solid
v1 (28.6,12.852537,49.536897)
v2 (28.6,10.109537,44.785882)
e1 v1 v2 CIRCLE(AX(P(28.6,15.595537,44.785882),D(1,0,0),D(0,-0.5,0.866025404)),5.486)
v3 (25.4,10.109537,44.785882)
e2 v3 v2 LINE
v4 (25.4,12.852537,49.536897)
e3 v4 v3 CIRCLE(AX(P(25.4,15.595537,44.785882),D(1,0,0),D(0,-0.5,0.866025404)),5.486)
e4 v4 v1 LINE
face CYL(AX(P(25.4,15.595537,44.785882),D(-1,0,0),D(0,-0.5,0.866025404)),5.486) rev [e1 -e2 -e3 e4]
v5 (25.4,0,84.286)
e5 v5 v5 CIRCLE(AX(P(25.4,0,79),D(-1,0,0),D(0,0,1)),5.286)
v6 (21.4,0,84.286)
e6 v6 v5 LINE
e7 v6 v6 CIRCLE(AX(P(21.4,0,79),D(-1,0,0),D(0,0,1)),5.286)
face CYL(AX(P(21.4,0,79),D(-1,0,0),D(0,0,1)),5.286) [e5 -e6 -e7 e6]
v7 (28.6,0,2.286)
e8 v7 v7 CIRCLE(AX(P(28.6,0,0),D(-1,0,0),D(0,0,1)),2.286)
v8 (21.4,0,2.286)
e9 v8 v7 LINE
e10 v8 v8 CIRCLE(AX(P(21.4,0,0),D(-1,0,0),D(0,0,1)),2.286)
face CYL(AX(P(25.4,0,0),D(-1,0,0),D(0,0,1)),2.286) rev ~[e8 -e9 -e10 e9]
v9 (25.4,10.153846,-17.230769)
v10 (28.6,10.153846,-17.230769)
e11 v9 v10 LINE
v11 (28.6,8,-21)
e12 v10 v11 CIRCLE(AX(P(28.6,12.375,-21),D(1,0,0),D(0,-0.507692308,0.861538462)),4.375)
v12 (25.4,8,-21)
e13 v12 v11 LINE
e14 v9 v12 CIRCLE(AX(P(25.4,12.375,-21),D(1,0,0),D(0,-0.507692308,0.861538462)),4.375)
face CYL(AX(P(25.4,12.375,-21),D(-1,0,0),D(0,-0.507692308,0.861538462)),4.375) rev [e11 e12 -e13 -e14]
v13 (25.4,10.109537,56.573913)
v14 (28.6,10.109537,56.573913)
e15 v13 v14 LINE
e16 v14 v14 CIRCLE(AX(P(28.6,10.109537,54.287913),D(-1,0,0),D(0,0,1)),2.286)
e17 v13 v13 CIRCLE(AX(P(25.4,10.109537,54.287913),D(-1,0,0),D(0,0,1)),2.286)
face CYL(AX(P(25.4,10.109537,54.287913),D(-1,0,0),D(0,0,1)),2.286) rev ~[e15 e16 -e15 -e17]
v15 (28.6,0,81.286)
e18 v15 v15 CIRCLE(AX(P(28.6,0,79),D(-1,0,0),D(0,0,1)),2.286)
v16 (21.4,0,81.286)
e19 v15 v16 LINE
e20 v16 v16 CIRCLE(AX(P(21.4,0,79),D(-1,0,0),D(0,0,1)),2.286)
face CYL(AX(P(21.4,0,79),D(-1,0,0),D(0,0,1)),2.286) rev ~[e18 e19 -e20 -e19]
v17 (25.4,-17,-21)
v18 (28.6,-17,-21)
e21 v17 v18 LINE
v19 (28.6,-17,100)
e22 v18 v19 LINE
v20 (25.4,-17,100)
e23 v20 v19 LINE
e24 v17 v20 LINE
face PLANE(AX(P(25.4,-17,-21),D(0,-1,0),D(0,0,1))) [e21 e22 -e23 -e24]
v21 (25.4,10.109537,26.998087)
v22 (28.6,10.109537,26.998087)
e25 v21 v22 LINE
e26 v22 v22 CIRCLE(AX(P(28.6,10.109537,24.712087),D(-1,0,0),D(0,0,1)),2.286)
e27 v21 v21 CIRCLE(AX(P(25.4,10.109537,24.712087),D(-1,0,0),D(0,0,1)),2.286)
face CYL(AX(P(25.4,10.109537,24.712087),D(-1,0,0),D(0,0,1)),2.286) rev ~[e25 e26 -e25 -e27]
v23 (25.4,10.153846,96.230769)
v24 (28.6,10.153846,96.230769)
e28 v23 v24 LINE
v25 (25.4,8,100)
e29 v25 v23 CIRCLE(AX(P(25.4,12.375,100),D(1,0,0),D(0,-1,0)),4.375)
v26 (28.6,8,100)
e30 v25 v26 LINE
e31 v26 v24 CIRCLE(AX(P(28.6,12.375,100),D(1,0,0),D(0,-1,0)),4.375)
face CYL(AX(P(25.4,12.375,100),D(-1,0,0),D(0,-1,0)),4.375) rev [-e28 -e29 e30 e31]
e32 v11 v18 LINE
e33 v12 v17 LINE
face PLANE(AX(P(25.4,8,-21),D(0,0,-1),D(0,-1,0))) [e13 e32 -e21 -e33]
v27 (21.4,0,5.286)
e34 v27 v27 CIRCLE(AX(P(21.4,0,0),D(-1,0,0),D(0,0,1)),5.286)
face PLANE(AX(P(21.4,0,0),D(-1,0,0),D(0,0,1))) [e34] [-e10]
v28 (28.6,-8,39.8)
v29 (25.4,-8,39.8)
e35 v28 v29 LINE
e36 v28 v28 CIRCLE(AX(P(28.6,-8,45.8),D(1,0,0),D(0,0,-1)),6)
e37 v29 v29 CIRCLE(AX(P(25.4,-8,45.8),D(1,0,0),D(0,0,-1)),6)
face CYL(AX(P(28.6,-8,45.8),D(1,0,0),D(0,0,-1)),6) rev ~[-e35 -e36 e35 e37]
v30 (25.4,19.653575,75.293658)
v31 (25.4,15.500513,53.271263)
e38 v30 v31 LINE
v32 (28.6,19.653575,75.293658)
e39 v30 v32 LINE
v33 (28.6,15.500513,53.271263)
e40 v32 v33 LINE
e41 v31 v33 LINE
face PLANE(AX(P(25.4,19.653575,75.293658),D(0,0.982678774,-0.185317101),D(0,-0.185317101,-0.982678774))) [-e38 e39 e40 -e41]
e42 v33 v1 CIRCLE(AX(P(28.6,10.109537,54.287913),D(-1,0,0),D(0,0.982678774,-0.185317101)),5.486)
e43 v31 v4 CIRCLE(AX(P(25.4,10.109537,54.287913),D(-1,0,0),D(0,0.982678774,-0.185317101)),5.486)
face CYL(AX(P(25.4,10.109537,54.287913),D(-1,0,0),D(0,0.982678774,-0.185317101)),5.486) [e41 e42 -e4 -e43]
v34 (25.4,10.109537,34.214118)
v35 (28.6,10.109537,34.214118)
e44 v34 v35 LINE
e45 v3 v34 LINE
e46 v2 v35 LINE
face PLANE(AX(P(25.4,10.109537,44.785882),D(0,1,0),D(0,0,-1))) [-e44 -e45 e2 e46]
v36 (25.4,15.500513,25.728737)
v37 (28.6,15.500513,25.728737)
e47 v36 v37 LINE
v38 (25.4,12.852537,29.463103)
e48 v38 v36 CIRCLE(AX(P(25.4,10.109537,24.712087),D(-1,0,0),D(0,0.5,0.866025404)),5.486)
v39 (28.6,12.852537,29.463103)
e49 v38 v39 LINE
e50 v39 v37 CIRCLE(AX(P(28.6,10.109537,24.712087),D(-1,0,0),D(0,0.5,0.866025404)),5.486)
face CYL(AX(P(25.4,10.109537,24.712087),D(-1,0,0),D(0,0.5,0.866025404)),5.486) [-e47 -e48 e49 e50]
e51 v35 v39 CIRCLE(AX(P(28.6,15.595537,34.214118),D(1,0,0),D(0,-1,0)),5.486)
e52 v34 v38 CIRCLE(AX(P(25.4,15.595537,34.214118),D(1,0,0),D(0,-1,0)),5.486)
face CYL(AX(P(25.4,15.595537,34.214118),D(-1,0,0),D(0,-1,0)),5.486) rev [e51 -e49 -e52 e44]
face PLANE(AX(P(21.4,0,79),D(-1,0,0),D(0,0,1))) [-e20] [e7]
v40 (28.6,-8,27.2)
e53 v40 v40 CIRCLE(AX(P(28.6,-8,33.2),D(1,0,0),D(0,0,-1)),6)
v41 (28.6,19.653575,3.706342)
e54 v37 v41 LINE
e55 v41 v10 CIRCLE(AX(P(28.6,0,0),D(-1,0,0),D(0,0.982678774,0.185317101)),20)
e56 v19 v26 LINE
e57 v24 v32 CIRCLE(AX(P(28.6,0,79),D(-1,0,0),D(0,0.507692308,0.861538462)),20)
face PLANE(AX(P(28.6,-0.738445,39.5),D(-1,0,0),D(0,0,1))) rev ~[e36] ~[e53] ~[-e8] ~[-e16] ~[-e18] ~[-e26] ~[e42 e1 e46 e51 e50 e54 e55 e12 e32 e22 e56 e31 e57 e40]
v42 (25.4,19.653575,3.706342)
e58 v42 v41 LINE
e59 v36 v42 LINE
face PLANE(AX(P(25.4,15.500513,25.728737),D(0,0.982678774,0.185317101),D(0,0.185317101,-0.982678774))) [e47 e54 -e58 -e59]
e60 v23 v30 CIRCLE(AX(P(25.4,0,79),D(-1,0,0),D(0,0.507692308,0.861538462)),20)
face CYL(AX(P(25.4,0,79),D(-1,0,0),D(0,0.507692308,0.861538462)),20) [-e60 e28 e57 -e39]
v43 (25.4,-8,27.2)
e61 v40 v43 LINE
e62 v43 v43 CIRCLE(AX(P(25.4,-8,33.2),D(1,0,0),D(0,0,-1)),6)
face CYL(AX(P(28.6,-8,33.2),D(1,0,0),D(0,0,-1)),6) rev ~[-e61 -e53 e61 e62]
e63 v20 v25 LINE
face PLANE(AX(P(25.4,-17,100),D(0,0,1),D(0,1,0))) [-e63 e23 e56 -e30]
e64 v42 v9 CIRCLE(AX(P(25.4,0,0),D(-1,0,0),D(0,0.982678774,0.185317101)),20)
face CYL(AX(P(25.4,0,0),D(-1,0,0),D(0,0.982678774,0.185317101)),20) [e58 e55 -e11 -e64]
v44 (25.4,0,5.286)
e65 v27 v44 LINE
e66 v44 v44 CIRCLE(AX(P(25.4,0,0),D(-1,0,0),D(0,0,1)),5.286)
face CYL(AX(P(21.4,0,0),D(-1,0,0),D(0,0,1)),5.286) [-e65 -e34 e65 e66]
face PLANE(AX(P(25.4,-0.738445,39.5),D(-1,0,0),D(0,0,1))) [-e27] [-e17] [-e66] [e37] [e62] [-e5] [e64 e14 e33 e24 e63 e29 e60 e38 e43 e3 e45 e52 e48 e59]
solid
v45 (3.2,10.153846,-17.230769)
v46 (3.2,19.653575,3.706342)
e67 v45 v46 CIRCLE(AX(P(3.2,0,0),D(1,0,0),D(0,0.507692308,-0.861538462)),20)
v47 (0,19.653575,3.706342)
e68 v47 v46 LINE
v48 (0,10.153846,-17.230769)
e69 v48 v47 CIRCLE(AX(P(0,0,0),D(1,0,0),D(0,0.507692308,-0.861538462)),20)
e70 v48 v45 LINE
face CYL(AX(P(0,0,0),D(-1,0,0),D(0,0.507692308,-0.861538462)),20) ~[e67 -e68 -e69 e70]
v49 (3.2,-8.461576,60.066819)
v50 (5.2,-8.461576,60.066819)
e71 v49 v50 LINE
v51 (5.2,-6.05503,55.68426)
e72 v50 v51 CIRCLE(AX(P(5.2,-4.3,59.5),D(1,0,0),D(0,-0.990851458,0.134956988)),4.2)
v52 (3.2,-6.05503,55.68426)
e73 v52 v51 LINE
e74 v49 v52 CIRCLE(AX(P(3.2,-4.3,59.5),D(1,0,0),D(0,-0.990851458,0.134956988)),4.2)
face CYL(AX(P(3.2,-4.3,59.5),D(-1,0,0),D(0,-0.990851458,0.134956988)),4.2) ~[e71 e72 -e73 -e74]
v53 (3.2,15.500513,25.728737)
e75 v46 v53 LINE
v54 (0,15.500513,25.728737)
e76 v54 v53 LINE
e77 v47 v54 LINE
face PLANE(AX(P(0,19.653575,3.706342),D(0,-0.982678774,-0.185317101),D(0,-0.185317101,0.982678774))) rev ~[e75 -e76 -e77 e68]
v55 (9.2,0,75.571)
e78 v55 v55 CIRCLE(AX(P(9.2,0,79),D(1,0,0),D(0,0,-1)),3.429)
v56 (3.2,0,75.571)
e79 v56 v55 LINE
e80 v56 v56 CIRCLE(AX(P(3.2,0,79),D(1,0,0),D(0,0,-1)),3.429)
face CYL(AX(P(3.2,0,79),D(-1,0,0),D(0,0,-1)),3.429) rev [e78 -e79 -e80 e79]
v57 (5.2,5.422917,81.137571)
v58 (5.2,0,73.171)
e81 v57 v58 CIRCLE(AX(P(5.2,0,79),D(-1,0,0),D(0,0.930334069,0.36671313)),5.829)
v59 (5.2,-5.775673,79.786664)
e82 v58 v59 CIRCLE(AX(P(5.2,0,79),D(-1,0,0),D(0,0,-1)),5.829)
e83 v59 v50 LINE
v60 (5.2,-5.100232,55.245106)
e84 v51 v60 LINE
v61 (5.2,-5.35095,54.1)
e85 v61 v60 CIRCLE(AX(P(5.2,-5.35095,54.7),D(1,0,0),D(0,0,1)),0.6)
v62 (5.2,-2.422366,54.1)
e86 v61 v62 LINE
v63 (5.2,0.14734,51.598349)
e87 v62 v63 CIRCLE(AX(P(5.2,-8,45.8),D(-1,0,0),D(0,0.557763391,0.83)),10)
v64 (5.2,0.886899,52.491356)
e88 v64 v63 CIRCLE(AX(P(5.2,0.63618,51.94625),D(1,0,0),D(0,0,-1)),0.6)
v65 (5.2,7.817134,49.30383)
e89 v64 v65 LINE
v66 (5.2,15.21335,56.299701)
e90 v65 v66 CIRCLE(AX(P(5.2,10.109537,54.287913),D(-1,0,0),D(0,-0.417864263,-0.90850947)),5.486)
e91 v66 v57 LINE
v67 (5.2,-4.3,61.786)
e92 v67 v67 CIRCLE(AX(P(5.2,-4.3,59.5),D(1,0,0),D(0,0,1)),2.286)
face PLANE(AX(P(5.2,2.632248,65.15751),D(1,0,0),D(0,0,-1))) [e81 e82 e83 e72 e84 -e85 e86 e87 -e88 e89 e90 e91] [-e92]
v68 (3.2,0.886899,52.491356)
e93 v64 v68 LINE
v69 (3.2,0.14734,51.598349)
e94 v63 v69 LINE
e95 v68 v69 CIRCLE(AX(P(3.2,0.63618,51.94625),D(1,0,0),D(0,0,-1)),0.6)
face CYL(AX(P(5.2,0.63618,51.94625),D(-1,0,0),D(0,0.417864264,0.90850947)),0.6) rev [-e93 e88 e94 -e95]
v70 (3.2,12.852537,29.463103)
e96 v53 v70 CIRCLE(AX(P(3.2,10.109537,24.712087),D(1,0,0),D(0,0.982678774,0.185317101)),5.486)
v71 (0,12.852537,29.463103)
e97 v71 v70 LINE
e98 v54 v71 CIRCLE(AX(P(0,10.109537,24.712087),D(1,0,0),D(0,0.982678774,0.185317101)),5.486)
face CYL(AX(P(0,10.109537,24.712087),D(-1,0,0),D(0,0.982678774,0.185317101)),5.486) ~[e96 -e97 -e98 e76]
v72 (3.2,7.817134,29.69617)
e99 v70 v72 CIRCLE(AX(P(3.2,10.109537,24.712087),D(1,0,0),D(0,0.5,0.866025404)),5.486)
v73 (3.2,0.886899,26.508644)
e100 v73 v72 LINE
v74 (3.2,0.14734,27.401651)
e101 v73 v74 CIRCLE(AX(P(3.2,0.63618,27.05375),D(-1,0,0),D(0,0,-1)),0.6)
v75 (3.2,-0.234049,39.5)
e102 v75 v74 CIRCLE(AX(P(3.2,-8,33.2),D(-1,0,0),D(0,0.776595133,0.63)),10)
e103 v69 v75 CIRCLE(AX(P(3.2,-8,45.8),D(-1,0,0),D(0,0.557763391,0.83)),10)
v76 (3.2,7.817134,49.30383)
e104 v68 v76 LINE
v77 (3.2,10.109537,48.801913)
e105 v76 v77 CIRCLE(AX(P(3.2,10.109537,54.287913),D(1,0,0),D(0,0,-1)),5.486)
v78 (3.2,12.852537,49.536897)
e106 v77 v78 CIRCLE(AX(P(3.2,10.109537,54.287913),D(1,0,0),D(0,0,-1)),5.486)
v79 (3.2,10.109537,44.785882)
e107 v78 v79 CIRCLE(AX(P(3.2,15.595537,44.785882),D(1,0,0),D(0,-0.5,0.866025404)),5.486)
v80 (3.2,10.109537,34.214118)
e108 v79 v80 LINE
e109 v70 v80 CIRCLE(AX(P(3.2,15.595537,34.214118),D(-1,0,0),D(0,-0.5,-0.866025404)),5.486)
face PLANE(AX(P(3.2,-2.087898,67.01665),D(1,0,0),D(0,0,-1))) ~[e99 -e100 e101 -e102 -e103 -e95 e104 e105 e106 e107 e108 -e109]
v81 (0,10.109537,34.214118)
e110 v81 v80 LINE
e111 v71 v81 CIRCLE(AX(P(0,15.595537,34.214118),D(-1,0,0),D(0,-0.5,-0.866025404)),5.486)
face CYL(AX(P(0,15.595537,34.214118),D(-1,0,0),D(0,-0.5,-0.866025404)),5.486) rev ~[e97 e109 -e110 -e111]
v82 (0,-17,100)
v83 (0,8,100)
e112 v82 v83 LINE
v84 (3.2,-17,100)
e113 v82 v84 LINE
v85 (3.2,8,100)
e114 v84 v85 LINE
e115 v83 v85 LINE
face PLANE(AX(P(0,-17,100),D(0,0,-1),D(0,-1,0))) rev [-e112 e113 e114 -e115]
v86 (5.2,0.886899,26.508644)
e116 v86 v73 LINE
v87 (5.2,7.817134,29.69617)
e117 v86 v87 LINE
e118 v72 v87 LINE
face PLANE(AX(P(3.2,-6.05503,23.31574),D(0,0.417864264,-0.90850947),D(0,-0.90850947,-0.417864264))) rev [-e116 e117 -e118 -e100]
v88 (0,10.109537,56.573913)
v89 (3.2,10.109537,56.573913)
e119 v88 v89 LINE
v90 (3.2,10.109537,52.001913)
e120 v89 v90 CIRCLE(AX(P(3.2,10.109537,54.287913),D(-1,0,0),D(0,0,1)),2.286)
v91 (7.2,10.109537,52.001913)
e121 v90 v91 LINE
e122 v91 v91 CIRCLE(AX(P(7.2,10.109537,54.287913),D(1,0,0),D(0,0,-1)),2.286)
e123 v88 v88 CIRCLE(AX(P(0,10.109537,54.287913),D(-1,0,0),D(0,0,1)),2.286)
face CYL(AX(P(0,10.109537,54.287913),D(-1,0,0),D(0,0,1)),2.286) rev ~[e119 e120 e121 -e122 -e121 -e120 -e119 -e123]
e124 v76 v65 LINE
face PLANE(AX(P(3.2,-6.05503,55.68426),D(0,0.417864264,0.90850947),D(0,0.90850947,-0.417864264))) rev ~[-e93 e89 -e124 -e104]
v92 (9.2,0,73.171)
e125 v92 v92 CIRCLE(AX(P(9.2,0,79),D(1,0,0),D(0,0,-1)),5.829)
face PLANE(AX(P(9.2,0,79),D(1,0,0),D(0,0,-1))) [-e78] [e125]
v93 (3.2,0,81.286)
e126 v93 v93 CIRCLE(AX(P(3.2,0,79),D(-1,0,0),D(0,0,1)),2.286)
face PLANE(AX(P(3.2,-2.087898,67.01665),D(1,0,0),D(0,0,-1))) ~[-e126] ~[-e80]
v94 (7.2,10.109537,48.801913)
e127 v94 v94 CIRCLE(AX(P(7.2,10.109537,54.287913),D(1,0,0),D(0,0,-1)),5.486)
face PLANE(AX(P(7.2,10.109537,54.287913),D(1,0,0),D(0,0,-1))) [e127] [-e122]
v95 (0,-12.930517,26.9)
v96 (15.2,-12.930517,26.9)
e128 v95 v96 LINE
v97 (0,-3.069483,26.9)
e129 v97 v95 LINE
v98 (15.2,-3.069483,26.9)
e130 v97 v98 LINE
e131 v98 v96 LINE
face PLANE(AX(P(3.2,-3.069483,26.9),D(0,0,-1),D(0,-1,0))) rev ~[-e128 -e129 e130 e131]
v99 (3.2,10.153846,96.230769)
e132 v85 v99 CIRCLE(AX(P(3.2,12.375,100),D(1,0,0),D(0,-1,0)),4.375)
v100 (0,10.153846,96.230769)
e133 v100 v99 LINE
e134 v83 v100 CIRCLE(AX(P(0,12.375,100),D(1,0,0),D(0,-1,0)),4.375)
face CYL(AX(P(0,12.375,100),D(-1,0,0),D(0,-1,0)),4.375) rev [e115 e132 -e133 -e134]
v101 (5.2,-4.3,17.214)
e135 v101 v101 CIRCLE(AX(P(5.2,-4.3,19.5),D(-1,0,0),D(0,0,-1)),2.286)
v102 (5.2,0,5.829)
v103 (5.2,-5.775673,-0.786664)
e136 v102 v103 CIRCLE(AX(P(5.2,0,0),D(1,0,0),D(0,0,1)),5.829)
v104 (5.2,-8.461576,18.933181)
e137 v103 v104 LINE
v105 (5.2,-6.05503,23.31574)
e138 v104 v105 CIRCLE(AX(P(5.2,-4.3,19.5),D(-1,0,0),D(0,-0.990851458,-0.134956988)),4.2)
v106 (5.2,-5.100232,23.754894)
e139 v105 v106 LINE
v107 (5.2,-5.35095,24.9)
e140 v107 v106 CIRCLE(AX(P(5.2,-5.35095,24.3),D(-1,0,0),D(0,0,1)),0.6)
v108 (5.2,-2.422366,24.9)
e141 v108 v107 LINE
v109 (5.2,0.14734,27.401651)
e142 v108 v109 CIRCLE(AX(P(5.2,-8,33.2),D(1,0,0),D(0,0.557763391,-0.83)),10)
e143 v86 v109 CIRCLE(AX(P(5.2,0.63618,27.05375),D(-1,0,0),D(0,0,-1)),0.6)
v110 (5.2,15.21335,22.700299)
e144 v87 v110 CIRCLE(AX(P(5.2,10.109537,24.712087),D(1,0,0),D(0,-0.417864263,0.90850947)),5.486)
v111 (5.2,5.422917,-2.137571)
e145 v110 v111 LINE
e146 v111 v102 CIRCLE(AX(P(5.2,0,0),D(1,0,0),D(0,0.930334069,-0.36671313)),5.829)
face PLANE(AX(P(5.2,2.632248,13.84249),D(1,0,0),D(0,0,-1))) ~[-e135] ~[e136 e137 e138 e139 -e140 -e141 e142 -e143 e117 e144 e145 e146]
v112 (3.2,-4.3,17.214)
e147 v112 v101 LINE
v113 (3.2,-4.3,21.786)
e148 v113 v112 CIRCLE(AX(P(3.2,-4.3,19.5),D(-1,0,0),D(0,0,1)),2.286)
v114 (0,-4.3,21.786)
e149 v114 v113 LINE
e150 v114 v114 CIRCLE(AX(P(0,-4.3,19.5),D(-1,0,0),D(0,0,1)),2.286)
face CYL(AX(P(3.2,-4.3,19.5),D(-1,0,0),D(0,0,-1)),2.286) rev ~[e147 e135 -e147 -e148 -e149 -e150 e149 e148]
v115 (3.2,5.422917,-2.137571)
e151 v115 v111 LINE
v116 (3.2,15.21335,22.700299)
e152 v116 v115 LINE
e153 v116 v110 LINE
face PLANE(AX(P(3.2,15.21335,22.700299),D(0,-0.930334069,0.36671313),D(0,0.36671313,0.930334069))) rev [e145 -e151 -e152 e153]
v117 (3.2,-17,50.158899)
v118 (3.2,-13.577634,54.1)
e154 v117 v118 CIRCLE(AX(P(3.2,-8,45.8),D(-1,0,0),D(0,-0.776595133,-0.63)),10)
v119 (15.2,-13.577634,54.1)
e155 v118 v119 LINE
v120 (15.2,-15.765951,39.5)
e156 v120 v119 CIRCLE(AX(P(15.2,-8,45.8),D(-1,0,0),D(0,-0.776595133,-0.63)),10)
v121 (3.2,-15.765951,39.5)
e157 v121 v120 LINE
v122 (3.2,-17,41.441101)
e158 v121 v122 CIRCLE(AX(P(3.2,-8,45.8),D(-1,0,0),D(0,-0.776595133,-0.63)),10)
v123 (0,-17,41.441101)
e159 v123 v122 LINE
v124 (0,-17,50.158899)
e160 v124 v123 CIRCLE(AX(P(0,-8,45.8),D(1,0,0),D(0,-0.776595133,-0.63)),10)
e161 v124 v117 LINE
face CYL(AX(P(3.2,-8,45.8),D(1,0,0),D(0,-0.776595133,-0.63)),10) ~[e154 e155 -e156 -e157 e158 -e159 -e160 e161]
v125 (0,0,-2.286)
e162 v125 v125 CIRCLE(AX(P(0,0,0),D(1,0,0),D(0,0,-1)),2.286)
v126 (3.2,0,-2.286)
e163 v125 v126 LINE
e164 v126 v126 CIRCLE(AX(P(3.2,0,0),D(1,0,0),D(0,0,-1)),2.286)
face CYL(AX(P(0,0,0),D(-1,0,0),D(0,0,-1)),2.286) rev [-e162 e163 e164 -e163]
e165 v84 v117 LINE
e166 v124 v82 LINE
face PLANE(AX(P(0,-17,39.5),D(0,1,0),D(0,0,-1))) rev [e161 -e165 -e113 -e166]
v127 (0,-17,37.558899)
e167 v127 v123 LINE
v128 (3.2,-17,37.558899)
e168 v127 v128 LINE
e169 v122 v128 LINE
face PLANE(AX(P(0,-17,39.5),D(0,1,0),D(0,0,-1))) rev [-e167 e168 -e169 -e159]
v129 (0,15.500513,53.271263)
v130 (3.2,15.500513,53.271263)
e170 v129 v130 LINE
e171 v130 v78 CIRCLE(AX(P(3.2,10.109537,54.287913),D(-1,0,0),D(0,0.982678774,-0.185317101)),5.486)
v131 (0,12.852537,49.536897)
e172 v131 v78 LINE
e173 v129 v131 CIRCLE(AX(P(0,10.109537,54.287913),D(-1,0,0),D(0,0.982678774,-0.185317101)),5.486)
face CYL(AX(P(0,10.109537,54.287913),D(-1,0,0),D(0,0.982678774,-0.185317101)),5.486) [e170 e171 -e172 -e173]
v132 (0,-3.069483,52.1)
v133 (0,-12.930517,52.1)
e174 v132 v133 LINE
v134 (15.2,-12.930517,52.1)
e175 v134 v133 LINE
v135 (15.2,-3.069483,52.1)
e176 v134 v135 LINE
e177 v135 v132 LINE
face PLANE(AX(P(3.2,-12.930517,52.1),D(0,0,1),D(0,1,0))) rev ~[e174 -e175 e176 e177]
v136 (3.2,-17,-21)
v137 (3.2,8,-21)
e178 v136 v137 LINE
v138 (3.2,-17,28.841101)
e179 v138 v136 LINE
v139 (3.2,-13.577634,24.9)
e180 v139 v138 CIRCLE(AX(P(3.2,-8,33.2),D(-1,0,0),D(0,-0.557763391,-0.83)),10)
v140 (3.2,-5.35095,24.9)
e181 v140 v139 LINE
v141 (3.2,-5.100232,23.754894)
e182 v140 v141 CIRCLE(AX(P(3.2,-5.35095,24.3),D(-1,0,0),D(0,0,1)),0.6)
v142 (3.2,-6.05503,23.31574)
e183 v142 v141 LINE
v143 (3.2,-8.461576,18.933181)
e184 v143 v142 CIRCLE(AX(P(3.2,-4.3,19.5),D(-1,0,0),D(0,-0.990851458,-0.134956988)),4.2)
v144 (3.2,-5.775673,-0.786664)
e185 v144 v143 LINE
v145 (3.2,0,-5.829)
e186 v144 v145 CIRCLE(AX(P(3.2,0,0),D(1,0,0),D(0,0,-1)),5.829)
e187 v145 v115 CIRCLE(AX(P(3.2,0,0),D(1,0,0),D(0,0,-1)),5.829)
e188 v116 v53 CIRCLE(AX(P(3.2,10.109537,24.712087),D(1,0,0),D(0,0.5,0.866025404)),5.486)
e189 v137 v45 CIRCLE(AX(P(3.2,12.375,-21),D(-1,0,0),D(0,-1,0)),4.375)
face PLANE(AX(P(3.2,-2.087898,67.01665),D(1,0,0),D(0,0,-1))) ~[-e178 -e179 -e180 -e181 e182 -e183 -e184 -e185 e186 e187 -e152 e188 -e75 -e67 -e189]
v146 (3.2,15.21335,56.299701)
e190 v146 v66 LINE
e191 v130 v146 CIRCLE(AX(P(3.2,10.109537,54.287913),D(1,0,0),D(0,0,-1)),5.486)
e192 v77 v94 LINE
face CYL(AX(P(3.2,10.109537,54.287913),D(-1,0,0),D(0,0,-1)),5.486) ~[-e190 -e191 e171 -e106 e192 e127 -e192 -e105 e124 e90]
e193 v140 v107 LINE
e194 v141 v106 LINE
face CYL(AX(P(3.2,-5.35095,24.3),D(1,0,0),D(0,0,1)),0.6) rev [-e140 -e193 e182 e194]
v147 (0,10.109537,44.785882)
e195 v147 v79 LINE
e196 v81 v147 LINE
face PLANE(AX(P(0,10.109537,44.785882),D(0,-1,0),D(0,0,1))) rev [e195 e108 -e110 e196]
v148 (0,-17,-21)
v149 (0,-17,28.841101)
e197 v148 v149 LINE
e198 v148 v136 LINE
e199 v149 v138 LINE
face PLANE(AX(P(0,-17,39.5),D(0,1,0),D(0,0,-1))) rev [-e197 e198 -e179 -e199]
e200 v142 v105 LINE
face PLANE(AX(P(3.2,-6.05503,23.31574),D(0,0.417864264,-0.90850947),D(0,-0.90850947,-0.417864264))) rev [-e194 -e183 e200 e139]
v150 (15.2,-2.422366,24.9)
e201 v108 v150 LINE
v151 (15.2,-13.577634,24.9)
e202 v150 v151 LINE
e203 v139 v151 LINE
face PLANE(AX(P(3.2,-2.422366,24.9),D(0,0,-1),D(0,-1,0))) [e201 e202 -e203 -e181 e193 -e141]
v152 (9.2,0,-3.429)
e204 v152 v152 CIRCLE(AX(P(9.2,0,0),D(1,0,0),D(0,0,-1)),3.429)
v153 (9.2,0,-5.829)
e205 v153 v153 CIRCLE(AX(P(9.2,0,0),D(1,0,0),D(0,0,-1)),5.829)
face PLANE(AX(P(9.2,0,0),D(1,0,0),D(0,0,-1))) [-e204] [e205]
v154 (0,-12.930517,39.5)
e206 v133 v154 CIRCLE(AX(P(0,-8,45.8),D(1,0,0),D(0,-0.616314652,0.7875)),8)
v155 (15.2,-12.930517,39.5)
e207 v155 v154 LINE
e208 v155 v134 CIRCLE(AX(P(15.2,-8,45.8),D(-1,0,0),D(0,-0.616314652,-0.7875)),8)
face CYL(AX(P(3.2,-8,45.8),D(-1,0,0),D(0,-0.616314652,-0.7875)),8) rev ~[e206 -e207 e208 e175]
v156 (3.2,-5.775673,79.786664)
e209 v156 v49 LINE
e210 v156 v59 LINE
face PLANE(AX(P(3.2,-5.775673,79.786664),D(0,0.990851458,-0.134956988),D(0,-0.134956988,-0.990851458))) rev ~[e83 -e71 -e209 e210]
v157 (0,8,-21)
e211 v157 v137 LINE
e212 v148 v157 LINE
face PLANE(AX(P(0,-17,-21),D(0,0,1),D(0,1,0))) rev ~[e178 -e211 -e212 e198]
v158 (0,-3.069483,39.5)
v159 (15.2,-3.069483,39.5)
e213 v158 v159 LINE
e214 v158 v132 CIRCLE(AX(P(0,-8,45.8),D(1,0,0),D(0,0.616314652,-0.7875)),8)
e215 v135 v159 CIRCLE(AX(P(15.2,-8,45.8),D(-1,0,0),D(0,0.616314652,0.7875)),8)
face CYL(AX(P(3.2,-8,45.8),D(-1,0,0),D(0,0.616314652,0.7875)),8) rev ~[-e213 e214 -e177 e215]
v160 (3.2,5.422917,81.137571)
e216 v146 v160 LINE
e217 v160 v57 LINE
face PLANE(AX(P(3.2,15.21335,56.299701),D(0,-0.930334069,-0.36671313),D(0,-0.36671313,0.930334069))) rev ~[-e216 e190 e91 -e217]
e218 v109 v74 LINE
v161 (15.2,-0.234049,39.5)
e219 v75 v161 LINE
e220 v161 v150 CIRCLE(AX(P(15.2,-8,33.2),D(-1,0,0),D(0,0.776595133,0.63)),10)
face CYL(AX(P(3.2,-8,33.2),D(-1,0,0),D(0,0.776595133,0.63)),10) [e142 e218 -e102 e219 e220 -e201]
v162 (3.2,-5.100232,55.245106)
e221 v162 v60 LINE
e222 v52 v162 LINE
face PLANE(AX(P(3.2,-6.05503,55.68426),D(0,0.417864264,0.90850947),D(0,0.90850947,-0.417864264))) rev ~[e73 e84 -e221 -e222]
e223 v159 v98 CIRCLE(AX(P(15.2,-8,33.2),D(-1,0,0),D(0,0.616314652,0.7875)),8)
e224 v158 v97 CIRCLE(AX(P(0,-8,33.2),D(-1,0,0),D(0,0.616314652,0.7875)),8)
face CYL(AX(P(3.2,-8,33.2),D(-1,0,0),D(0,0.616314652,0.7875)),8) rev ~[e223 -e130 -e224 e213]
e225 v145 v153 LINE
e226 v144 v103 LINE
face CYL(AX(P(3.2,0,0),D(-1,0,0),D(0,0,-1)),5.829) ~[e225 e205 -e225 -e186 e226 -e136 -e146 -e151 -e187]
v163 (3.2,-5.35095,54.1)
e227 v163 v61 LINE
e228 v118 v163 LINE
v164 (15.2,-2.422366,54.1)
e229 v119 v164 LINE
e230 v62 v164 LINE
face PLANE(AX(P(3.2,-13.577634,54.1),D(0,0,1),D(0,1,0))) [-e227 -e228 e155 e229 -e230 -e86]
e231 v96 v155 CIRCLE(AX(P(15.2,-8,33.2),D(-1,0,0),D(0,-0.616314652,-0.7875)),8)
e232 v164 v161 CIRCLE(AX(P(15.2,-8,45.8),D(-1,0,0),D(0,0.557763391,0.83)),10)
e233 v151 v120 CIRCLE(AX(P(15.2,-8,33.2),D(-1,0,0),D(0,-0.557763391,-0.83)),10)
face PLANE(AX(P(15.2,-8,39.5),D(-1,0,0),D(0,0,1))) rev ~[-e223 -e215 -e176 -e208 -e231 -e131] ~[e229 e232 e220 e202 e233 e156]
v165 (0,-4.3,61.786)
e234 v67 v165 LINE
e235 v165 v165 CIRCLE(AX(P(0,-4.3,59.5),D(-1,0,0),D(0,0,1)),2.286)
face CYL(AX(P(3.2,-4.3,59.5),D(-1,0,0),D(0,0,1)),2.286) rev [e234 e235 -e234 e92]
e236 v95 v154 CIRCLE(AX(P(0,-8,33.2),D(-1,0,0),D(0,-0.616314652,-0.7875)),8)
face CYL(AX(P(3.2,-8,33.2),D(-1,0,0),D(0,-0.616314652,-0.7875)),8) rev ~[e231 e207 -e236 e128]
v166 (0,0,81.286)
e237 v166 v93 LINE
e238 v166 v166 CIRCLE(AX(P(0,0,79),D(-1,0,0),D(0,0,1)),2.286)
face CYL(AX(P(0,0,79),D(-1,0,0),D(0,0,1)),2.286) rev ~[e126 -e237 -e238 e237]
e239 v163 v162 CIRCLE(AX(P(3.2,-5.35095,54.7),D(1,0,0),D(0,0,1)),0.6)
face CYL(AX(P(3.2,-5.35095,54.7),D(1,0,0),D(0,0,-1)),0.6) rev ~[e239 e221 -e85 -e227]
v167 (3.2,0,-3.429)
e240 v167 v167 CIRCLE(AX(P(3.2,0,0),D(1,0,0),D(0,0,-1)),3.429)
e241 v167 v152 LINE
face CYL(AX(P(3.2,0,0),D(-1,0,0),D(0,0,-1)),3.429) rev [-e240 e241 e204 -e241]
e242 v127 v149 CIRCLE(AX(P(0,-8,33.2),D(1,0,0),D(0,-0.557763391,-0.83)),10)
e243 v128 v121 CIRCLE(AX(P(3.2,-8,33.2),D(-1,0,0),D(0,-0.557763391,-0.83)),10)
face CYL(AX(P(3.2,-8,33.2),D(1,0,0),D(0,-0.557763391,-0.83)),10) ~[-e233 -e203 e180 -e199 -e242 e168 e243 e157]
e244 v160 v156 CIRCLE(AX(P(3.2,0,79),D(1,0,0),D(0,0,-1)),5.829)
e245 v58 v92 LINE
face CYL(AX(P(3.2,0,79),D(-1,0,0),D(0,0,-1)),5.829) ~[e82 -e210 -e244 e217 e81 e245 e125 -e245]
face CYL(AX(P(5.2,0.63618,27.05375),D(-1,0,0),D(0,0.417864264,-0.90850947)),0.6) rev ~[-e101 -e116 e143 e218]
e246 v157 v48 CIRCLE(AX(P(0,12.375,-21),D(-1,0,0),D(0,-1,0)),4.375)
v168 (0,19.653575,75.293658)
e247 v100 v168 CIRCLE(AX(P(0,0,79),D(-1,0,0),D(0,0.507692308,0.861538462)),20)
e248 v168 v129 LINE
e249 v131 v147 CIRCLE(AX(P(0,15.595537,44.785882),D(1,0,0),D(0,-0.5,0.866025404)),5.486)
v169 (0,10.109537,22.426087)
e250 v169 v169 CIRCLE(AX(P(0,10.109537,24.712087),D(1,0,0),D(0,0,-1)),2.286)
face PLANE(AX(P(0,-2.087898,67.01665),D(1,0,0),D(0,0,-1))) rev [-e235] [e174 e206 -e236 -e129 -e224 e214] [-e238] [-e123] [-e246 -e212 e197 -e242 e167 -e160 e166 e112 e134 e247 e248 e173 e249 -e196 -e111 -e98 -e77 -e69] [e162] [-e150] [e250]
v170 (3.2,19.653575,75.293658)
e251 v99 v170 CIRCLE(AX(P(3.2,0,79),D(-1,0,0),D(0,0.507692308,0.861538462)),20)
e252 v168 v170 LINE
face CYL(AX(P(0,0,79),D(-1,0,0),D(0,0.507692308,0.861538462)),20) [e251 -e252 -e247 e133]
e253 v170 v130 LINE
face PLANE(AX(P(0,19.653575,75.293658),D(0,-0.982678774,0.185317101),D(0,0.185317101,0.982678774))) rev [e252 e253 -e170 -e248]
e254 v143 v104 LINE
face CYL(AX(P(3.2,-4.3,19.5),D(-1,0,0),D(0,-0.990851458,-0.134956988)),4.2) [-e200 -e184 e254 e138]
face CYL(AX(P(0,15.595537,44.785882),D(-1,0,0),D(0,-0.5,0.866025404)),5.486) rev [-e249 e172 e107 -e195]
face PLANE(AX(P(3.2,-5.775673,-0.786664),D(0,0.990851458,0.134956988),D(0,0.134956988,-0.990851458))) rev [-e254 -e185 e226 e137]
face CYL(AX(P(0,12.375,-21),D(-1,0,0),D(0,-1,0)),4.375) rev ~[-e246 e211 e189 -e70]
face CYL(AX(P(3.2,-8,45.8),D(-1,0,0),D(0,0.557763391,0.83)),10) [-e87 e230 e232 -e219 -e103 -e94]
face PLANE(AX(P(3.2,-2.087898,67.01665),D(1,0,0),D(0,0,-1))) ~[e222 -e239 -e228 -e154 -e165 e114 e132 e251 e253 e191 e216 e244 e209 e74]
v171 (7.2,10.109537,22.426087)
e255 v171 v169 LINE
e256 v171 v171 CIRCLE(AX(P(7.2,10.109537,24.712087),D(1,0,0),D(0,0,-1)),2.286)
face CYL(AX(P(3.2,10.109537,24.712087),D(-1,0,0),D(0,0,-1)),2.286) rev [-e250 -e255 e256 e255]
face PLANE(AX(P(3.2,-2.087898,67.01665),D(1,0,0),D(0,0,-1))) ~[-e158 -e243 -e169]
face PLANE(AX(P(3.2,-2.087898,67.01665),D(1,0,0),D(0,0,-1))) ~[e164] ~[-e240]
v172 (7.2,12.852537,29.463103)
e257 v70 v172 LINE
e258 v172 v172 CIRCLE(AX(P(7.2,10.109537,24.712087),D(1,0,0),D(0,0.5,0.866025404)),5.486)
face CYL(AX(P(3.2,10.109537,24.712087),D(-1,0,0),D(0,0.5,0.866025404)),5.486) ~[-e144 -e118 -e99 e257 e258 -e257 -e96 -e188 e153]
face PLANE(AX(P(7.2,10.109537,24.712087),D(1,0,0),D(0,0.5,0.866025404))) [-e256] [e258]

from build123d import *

# Parameters (mm, degrees)
SKETCH1_R                       = 2.286
BOSS_EXTRUDE1_DEPTH             = 3.2
SKETCH4_R                       = 5.486
SKETCH4_R_2                     = 2.286
BOSS_EXTRUDE2_DEPTH             = 4
SKETCH5_R                       = 5.829
SKETCH5_R_2                     = 3.429
EXTRUDE_THIN2_DEPTH             = 6
BOSS_EXTRUDE3_START             = -25.4
BOSS_EXTRUDE3_DEPTH             = 3.2
SKETCH8_R                       = 2.286
CUT_EXTRUDE1_DEPTH              = 106.095956154
EXTRUDE_THIN3_START             = 4
SKETCH9_R                       = 5.286
SKETCH9_R_2                     = 2.286
EXTRUDE_THIN3_DEPTH             = 4
SKETCH10_R                      = 2.286
CUT_EXTRUDE2_DEPTH              = 12
SKETCH13_R                      = 2.286
BOSS_EXTRUDE6_DEPTH             = 2
EXTRUDE_THIN5_DEPTH             = 12
EXTRUDE_THIN5_DIRECTION_2_REACH = 107.096
FILLET2_R                       = 0.6
SKETCH15_R                      = 6
CUT_EXTRUDE3_DEPTH              = 6


with BuildPart() as part:
    # Sketch1 → Boss-Extrude1 (new body)
    with BuildSketch(Plane(origin=(0, 0, 0), x_dir=(0, 0, -1), z_dir=(1, 0, 0))):
        with BuildLine():
            Line((-39.5, 10.1095372), (-39.5, -3.069482786))
            ThreePointArc((-39.5, -3.069482786), (-33.2, 0), (-26.9, -3.069482786))
            Line((-26.9, -3.069482786), (-26.9, -12.930517214))
            ThreePointArc((-26.9, -12.930517214), (-33.2, -16), (-39.5, -12.930517214))
            Line((-39.5, -12.930517214), (-39.5, -17))
            Line((-39.5, -17), (21, -17))
            Line((21, -17), (21, 8))
            ThreePointArc((21, 8), (18.829392145, 8.576436253), (17.230769231, 10.153846154))
            ThreePointArc((17.230769231, 10.153846154), (8.263700567, 18.212941908), (-3.706342027, 19.653575471))
            Line((-3.706342027, 19.653575471), (-25.728736895, 15.500512952))
            ThreePointArc((-25.728736895, 15.500512952), (-27.885324384, 14.584664267), (-29.463102642, 12.8525372))
            ThreePointArc((-29.463102642, 12.8525372), (-31.471118008, 10.844521835), (-34.214118008, 10.1095372))
            Line((-34.214118008, 10.1095372), (-39.5, 10.1095372))
        make_face()
        with Locations((-24.712087277, 10.1095372)):
            Circle(SKETCH1_R, mode=Mode.SUBTRACT)
        Circle(SKETCH1_R, mode=Mode.SUBTRACT)
    extrude(amount=BOSS_EXTRUDE1_DEPTH)

    # Mirror1: part across plane


with BuildPart() as part_1:
    add(part.part)
    add(part.part.mirror(Plane(origin=(3.2, 0, 39.5), x_dir=(1, 0, 0), z_dir=(0, 0, 1))))

    # Sketch4 → Boss-Extrude2 (add)
    # profile 1 of 2: a face of its own
    with BuildSketch(Plane(origin=(3.2, 0, 0), x_dir=(0, 0, -1), z_dir=(1, 0, 0))):
        with Locations((-54.287912723, 10.1095372)):
            Circle(SKETCH4_R)
        with Locations((-54.287912723, 10.1095372)):
            Circle(SKETCH4_R_2, mode=Mode.SUBTRACT)
    # profile 2 of 2: a face of its own
    with BuildSketch(Plane(origin=(3.2, 0, 0), x_dir=(0, 0, -1), z_dir=(1, 0, 0))):
        with Locations(Location((-24.712087277, 10.1095372, 0), (0, 0, 150))):
            Circle(SKETCH4_R)
        with Locations((-24.712087277, 10.1095372)):
            Circle(SKETCH4_R_2, mode=Mode.SUBTRACT)
    extrude(amount=BOSS_EXTRUDE2_DEPTH)

    # Sketch5 → Extrude-Thin2 (add)
    # profile 1 of 2: a face of its own
    with BuildSketch(Plane(origin=(3.2, 0, 0), x_dir=(0, 0, -1), z_dir=(1, 0, 0))):
        with Locations((-79, 0)):
            Circle(SKETCH5_R)
        with Locations((-79, 0)):
            Circle(SKETCH5_R_2, mode=Mode.SUBTRACT)
    # profile 2 of 2: a face of its own
    with BuildSketch(Plane(origin=(3.2, 0, 0), x_dir=(0, 0, -1), z_dir=(1, 0, 0))):
        Circle(SKETCH5_R)
        Circle(SKETCH5_R_2, mode=Mode.SUBTRACT)
    extrude(amount=EXTRUDE_THIN2_DEPTH)

    # Sketch10 → Cut-Extrude2 (cut)
    with BuildSketch(Plane.ZY):
        with Locations((19.5, -4.3)):
            Circle(SKETCH10_R)
        with Locations((59.5, -4.3)):
            Circle(SKETCH10_R)
    extrude(amount=-CUT_EXTRUDE2_DEPTH, mode=Mode.SUBTRACT)

    # Sketch13 → Boss-Extrude6 (add)
    with BuildSketch(Plane(origin=(3.2, 0, 0), x_dir=(0, 0, -1), z_dir=(1, 0, 0))):
        with BuildLine():
            Line((-56.299700955, 15.213349903), (-81.137570836, 5.422917289))
            ThreePointArc((-81.137570836, 5.422917289), (-75.719958796, 4.818565212), (-73.171, 0))
            ThreePointArc((-73.171, 0), (-75.166478454, -4.391053809), (-79.786664284, -5.775673147))
            Line((-79.786664284, -5.775673147), (-60.06681935, -8.461576123))
            ThreePointArc((-60.06681935, -8.461576123), (-57.478432006, -7.981475634), (-55.684260226, -6.055029907))
            Line((-55.684260226, -6.055029907), (-49.30382977, 7.817133851))
            ThreePointArc((-49.30382977, 7.817133851), (-58.273466254, 6.33971505), (-56.299700955, 15.213349903))
        make_face()
        with Locations(Location((-59.5, -4.3, 0), (0, 0, 180))):
            Circle(SKETCH13_R, mode=Mode.SUBTRACT)
    boss_extrude6 = extrude(amount=BOSS_EXTRUDE6_DEPTH)

    # Mirror3: Boss-Extrude6 across plane
    add(boss_extrude6.mirror(Plane(origin=(0, 0, 39.5), x_dir=(1, 0, 0), z_dir=(0, 0, -1))))

    # Sketch14 → Extrude-Thin5 (add)
    with BuildSketch(Plane(origin=(3.2, 0, 0), x_dir=(0, 0, -1), z_dir=(1, 0, 0))):
        with BuildLine():
            ThreePointArc((-39.5, -0.234048674), (-31.717710122, 1.889530662), (-24.9, -2.422366093))
            Line((-24.9, -2.422366093), (-24.9, -13.577633907))
            ThreePointArc((-24.9, -13.577633907), (-31.717710122, -17.889530662), (-39.5, -15.765951326))
            ThreePointArc((-39.5, -15.765951326), (-47.282289878, -17.889530662), (-54.1, -13.577633907))
            Line((-54.1, -13.577633907), (-54.1, -2.422366093))
            ThreePointArc((-54.1, -2.422366093), (-47.282289878, 1.889530662), (-39.5, -0.234048674))
        make_face()
        with BuildLine():
            ThreePointArc((-39.5, -3.069482786), (-33.2, 0), (-26.9, -3.069482786))
            Line((-26.9, -3.069482786), (-26.9, -12.930517214))
            ThreePointArc((-26.9, -12.930517214), (-33.2, -16), (-39.5, -12.930517214))
            ThreePointArc((-39.5, -12.930517214), (-45.8, -16), (-52.1, -12.930517214))
            Line((-52.1, -12.930517214), (-52.1, -3.069482786))
            ThreePointArc((-52.1, -3.069482786), (-45.8, 0), (-39.5, -3.069482786))
        make_face(mode=Mode.SUBTRACT)
    extrude(amount=EXTRUDE_THIN5_DEPTH)

    # Extrude-Thin5 direction 2: up to this face of the body (flat: up to its plane)
    extrude_thin5_direction_2_end = Plane(part_1.part.faces().sort_by_distance((0, 0.243251913, 39.5))[0])
    # Sketch14 → Extrude-Thin5 direction 2 (add, up to the picked face)
    with BuildSketch(Plane(origin=(3.2, 0, 0), x_dir=(0, 0, -1), z_dir=(1, 0, 0)), mode=Mode.PRIVATE) as extrude_thin5_direction_2_sk1:
        with BuildLine():
            ThreePointArc((-39.5, -0.234048674), (-31.717710122, 1.889530662), (-24.9, -2.422366093))
            Line((-24.9, -2.422366093), (-24.9, -13.577633907))
            ThreePointArc((-24.9, -13.577633907), (-31.717710122, -17.889530662), (-39.5, -15.765951326))
            ThreePointArc((-39.5, -15.765951326), (-47.282289878, -17.889530662), (-54.1, -13.577633907))
            Line((-54.1, -13.577633907), (-54.1, -2.422366093))
            ThreePointArc((-54.1, -2.422366093), (-47.282289878, 1.889530662), (-39.5, -0.234048674))
        make_face()
        with BuildLine():
            ThreePointArc((-39.5, -3.069482786), (-33.2, 0), (-26.9, -3.069482786))
            Line((-26.9, -3.069482786), (-26.9, -12.930517214))
            ThreePointArc((-26.9, -12.930517214), (-33.2, -16), (-39.5, -12.930517214))
            ThreePointArc((-39.5, -12.930517214), (-45.8, -16), (-52.1, -12.930517214))
            Line((-52.1, -12.930517214), (-52.1, -3.069482786))
            ThreePointArc((-52.1, -3.069482786), (-45.8, 0), (-39.5, -3.069482786))
        make_face(mode=Mode.SUBTRACT)
    extrude_thin5_direction_2_tool1 = split(extrude(extrude_thin5_direction_2_sk1.sketch, amount=-EXTRUDE_THIN5_DIRECTION_2_REACH, mode=Mode.PRIVATE), bisect_by=extrude_thin5_direction_2_end, keep=Keep.BOTH, mode=Mode.PRIVATE)
    add(extrude_thin5_direction_2_tool1.solids().sort_by(Axis((3.2, 1.539514, 31.770172), (-1, 0, 0)))[0])

    # Fillet2
    fillet2_edges = [part_1.edges().sort_by_distance(p)[0] for p in [
        (4.2, -2.067620911, 53.850271942),
        (4.2, -2.610573073, 54.1),
        (4.2, -2.610573073, 24.9),
        (4.2, -2.067620911, 25.149728058),
    ]]
    fillet(fillet2_edges, radius=FILLET2_R)


with BuildPart() as body_2:
    # Sketch7 → Boss-Extrude3 (new body)
    with BuildSketch(Plane.ZY.offset(BOSS_EXTRUDE3_START)):
        with BuildLine():
            Line((25.728736895, 15.500512952), (3.706342027, 19.653575471))
            ThreePointArc((3.706342027, 19.653575471), (-8.263700567, 18.212941908), (-17.230769231, 10.153846154))
            ThreePointArc((-17.230769231, 10.153846154), (-18.829392145, 8.576436253), (-21, 8))
            Line((-21, 8), (-21, -17))
            Line((-21, -17), (100, -17))
            Line((100, -17), (100, 8))
            ThreePointArc((100, 8), (97.829392145, 8.576436253), (96.230769231, 10.153846154))
            ThreePointArc((96.230769231, 10.153846154), (87.263700567, 18.212941908), (75.293657973, 19.653575471))
            Line((75.293657973, 19.653575471), (53.271263105, 15.500512952))
            ThreePointArc((53.271263105, 15.500512952), (51.114675616, 14.584664267), (49.536897358, 12.8525372))
            ThreePointArc((49.536897358, 12.8525372), (47.528881992, 10.844521835), (44.785881992, 10.1095372))
            Line((44.785881992, 10.1095372), (34.214118008, 10.1095372))
            ThreePointArc((34.214118008, 10.1095372), (31.471118008, 10.844521835), (29.463102642, 12.8525372))
            ThreePointArc((29.463102642, 12.8525372), (27.885324384, 14.584664267), (25.728736895, 15.500512952))
        make_face()
    extrude(amount=-BOSS_EXTRUDE3_DEPTH)

    # Sketch8 → Cut-Extrude1 (cut, through all)
    with BuildSketch(Plane.ZY.offset(-25.4)):
        with Locations((79, 0)):
            Circle(SKETCH8_R)
        with Locations((54.287912723, 10.1095372)):
            Circle(SKETCH8_R)
        with Locations((24.712087277, 10.1095372)):
            Circle(SKETCH8_R)
        Circle(SKETCH8_R)
    extrude(amount=-CUT_EXTRUDE1_DEPTH, mode=Mode.SUBTRACT)

    # Sketch9 → Extrude-Thin3 (add)
    # profile 1 of 2: a face of its own
    with BuildSketch(Plane.ZY.offset(-25.4).offset(EXTRUDE_THIN3_START)):
        with Locations((79, 0)):
            Circle(SKETCH9_R)
        with Locations((79, 0)):
            Circle(SKETCH9_R_2, mode=Mode.SUBTRACT)
    # profile 2 of 2: a face of its own
    with BuildSketch(Plane.ZY.offset(-25.4).offset(EXTRUDE_THIN3_START)):
        Circle(SKETCH9_R)
        Circle(SKETCH9_R_2, mode=Mode.SUBTRACT)
    extrude(amount=-EXTRUDE_THIN3_DEPTH)

    # Sketch15 → Cut-Extrude3 (cut)
    with BuildSketch(Plane(origin=(28.6, 0, 0), x_dir=(0, 0, -1), z_dir=(1, 0, 0))):
        with Locations((-45.8, -8)):
            Circle(SKETCH15_R)
        with Locations((-33.2, -8)):
            Circle(SKETCH15_R)
    extrude(amount=-CUT_EXTRUDE3_DEPTH, mode=Mode.SUBTRACT)


solid = Compound([part_1.part, body_2.part])
